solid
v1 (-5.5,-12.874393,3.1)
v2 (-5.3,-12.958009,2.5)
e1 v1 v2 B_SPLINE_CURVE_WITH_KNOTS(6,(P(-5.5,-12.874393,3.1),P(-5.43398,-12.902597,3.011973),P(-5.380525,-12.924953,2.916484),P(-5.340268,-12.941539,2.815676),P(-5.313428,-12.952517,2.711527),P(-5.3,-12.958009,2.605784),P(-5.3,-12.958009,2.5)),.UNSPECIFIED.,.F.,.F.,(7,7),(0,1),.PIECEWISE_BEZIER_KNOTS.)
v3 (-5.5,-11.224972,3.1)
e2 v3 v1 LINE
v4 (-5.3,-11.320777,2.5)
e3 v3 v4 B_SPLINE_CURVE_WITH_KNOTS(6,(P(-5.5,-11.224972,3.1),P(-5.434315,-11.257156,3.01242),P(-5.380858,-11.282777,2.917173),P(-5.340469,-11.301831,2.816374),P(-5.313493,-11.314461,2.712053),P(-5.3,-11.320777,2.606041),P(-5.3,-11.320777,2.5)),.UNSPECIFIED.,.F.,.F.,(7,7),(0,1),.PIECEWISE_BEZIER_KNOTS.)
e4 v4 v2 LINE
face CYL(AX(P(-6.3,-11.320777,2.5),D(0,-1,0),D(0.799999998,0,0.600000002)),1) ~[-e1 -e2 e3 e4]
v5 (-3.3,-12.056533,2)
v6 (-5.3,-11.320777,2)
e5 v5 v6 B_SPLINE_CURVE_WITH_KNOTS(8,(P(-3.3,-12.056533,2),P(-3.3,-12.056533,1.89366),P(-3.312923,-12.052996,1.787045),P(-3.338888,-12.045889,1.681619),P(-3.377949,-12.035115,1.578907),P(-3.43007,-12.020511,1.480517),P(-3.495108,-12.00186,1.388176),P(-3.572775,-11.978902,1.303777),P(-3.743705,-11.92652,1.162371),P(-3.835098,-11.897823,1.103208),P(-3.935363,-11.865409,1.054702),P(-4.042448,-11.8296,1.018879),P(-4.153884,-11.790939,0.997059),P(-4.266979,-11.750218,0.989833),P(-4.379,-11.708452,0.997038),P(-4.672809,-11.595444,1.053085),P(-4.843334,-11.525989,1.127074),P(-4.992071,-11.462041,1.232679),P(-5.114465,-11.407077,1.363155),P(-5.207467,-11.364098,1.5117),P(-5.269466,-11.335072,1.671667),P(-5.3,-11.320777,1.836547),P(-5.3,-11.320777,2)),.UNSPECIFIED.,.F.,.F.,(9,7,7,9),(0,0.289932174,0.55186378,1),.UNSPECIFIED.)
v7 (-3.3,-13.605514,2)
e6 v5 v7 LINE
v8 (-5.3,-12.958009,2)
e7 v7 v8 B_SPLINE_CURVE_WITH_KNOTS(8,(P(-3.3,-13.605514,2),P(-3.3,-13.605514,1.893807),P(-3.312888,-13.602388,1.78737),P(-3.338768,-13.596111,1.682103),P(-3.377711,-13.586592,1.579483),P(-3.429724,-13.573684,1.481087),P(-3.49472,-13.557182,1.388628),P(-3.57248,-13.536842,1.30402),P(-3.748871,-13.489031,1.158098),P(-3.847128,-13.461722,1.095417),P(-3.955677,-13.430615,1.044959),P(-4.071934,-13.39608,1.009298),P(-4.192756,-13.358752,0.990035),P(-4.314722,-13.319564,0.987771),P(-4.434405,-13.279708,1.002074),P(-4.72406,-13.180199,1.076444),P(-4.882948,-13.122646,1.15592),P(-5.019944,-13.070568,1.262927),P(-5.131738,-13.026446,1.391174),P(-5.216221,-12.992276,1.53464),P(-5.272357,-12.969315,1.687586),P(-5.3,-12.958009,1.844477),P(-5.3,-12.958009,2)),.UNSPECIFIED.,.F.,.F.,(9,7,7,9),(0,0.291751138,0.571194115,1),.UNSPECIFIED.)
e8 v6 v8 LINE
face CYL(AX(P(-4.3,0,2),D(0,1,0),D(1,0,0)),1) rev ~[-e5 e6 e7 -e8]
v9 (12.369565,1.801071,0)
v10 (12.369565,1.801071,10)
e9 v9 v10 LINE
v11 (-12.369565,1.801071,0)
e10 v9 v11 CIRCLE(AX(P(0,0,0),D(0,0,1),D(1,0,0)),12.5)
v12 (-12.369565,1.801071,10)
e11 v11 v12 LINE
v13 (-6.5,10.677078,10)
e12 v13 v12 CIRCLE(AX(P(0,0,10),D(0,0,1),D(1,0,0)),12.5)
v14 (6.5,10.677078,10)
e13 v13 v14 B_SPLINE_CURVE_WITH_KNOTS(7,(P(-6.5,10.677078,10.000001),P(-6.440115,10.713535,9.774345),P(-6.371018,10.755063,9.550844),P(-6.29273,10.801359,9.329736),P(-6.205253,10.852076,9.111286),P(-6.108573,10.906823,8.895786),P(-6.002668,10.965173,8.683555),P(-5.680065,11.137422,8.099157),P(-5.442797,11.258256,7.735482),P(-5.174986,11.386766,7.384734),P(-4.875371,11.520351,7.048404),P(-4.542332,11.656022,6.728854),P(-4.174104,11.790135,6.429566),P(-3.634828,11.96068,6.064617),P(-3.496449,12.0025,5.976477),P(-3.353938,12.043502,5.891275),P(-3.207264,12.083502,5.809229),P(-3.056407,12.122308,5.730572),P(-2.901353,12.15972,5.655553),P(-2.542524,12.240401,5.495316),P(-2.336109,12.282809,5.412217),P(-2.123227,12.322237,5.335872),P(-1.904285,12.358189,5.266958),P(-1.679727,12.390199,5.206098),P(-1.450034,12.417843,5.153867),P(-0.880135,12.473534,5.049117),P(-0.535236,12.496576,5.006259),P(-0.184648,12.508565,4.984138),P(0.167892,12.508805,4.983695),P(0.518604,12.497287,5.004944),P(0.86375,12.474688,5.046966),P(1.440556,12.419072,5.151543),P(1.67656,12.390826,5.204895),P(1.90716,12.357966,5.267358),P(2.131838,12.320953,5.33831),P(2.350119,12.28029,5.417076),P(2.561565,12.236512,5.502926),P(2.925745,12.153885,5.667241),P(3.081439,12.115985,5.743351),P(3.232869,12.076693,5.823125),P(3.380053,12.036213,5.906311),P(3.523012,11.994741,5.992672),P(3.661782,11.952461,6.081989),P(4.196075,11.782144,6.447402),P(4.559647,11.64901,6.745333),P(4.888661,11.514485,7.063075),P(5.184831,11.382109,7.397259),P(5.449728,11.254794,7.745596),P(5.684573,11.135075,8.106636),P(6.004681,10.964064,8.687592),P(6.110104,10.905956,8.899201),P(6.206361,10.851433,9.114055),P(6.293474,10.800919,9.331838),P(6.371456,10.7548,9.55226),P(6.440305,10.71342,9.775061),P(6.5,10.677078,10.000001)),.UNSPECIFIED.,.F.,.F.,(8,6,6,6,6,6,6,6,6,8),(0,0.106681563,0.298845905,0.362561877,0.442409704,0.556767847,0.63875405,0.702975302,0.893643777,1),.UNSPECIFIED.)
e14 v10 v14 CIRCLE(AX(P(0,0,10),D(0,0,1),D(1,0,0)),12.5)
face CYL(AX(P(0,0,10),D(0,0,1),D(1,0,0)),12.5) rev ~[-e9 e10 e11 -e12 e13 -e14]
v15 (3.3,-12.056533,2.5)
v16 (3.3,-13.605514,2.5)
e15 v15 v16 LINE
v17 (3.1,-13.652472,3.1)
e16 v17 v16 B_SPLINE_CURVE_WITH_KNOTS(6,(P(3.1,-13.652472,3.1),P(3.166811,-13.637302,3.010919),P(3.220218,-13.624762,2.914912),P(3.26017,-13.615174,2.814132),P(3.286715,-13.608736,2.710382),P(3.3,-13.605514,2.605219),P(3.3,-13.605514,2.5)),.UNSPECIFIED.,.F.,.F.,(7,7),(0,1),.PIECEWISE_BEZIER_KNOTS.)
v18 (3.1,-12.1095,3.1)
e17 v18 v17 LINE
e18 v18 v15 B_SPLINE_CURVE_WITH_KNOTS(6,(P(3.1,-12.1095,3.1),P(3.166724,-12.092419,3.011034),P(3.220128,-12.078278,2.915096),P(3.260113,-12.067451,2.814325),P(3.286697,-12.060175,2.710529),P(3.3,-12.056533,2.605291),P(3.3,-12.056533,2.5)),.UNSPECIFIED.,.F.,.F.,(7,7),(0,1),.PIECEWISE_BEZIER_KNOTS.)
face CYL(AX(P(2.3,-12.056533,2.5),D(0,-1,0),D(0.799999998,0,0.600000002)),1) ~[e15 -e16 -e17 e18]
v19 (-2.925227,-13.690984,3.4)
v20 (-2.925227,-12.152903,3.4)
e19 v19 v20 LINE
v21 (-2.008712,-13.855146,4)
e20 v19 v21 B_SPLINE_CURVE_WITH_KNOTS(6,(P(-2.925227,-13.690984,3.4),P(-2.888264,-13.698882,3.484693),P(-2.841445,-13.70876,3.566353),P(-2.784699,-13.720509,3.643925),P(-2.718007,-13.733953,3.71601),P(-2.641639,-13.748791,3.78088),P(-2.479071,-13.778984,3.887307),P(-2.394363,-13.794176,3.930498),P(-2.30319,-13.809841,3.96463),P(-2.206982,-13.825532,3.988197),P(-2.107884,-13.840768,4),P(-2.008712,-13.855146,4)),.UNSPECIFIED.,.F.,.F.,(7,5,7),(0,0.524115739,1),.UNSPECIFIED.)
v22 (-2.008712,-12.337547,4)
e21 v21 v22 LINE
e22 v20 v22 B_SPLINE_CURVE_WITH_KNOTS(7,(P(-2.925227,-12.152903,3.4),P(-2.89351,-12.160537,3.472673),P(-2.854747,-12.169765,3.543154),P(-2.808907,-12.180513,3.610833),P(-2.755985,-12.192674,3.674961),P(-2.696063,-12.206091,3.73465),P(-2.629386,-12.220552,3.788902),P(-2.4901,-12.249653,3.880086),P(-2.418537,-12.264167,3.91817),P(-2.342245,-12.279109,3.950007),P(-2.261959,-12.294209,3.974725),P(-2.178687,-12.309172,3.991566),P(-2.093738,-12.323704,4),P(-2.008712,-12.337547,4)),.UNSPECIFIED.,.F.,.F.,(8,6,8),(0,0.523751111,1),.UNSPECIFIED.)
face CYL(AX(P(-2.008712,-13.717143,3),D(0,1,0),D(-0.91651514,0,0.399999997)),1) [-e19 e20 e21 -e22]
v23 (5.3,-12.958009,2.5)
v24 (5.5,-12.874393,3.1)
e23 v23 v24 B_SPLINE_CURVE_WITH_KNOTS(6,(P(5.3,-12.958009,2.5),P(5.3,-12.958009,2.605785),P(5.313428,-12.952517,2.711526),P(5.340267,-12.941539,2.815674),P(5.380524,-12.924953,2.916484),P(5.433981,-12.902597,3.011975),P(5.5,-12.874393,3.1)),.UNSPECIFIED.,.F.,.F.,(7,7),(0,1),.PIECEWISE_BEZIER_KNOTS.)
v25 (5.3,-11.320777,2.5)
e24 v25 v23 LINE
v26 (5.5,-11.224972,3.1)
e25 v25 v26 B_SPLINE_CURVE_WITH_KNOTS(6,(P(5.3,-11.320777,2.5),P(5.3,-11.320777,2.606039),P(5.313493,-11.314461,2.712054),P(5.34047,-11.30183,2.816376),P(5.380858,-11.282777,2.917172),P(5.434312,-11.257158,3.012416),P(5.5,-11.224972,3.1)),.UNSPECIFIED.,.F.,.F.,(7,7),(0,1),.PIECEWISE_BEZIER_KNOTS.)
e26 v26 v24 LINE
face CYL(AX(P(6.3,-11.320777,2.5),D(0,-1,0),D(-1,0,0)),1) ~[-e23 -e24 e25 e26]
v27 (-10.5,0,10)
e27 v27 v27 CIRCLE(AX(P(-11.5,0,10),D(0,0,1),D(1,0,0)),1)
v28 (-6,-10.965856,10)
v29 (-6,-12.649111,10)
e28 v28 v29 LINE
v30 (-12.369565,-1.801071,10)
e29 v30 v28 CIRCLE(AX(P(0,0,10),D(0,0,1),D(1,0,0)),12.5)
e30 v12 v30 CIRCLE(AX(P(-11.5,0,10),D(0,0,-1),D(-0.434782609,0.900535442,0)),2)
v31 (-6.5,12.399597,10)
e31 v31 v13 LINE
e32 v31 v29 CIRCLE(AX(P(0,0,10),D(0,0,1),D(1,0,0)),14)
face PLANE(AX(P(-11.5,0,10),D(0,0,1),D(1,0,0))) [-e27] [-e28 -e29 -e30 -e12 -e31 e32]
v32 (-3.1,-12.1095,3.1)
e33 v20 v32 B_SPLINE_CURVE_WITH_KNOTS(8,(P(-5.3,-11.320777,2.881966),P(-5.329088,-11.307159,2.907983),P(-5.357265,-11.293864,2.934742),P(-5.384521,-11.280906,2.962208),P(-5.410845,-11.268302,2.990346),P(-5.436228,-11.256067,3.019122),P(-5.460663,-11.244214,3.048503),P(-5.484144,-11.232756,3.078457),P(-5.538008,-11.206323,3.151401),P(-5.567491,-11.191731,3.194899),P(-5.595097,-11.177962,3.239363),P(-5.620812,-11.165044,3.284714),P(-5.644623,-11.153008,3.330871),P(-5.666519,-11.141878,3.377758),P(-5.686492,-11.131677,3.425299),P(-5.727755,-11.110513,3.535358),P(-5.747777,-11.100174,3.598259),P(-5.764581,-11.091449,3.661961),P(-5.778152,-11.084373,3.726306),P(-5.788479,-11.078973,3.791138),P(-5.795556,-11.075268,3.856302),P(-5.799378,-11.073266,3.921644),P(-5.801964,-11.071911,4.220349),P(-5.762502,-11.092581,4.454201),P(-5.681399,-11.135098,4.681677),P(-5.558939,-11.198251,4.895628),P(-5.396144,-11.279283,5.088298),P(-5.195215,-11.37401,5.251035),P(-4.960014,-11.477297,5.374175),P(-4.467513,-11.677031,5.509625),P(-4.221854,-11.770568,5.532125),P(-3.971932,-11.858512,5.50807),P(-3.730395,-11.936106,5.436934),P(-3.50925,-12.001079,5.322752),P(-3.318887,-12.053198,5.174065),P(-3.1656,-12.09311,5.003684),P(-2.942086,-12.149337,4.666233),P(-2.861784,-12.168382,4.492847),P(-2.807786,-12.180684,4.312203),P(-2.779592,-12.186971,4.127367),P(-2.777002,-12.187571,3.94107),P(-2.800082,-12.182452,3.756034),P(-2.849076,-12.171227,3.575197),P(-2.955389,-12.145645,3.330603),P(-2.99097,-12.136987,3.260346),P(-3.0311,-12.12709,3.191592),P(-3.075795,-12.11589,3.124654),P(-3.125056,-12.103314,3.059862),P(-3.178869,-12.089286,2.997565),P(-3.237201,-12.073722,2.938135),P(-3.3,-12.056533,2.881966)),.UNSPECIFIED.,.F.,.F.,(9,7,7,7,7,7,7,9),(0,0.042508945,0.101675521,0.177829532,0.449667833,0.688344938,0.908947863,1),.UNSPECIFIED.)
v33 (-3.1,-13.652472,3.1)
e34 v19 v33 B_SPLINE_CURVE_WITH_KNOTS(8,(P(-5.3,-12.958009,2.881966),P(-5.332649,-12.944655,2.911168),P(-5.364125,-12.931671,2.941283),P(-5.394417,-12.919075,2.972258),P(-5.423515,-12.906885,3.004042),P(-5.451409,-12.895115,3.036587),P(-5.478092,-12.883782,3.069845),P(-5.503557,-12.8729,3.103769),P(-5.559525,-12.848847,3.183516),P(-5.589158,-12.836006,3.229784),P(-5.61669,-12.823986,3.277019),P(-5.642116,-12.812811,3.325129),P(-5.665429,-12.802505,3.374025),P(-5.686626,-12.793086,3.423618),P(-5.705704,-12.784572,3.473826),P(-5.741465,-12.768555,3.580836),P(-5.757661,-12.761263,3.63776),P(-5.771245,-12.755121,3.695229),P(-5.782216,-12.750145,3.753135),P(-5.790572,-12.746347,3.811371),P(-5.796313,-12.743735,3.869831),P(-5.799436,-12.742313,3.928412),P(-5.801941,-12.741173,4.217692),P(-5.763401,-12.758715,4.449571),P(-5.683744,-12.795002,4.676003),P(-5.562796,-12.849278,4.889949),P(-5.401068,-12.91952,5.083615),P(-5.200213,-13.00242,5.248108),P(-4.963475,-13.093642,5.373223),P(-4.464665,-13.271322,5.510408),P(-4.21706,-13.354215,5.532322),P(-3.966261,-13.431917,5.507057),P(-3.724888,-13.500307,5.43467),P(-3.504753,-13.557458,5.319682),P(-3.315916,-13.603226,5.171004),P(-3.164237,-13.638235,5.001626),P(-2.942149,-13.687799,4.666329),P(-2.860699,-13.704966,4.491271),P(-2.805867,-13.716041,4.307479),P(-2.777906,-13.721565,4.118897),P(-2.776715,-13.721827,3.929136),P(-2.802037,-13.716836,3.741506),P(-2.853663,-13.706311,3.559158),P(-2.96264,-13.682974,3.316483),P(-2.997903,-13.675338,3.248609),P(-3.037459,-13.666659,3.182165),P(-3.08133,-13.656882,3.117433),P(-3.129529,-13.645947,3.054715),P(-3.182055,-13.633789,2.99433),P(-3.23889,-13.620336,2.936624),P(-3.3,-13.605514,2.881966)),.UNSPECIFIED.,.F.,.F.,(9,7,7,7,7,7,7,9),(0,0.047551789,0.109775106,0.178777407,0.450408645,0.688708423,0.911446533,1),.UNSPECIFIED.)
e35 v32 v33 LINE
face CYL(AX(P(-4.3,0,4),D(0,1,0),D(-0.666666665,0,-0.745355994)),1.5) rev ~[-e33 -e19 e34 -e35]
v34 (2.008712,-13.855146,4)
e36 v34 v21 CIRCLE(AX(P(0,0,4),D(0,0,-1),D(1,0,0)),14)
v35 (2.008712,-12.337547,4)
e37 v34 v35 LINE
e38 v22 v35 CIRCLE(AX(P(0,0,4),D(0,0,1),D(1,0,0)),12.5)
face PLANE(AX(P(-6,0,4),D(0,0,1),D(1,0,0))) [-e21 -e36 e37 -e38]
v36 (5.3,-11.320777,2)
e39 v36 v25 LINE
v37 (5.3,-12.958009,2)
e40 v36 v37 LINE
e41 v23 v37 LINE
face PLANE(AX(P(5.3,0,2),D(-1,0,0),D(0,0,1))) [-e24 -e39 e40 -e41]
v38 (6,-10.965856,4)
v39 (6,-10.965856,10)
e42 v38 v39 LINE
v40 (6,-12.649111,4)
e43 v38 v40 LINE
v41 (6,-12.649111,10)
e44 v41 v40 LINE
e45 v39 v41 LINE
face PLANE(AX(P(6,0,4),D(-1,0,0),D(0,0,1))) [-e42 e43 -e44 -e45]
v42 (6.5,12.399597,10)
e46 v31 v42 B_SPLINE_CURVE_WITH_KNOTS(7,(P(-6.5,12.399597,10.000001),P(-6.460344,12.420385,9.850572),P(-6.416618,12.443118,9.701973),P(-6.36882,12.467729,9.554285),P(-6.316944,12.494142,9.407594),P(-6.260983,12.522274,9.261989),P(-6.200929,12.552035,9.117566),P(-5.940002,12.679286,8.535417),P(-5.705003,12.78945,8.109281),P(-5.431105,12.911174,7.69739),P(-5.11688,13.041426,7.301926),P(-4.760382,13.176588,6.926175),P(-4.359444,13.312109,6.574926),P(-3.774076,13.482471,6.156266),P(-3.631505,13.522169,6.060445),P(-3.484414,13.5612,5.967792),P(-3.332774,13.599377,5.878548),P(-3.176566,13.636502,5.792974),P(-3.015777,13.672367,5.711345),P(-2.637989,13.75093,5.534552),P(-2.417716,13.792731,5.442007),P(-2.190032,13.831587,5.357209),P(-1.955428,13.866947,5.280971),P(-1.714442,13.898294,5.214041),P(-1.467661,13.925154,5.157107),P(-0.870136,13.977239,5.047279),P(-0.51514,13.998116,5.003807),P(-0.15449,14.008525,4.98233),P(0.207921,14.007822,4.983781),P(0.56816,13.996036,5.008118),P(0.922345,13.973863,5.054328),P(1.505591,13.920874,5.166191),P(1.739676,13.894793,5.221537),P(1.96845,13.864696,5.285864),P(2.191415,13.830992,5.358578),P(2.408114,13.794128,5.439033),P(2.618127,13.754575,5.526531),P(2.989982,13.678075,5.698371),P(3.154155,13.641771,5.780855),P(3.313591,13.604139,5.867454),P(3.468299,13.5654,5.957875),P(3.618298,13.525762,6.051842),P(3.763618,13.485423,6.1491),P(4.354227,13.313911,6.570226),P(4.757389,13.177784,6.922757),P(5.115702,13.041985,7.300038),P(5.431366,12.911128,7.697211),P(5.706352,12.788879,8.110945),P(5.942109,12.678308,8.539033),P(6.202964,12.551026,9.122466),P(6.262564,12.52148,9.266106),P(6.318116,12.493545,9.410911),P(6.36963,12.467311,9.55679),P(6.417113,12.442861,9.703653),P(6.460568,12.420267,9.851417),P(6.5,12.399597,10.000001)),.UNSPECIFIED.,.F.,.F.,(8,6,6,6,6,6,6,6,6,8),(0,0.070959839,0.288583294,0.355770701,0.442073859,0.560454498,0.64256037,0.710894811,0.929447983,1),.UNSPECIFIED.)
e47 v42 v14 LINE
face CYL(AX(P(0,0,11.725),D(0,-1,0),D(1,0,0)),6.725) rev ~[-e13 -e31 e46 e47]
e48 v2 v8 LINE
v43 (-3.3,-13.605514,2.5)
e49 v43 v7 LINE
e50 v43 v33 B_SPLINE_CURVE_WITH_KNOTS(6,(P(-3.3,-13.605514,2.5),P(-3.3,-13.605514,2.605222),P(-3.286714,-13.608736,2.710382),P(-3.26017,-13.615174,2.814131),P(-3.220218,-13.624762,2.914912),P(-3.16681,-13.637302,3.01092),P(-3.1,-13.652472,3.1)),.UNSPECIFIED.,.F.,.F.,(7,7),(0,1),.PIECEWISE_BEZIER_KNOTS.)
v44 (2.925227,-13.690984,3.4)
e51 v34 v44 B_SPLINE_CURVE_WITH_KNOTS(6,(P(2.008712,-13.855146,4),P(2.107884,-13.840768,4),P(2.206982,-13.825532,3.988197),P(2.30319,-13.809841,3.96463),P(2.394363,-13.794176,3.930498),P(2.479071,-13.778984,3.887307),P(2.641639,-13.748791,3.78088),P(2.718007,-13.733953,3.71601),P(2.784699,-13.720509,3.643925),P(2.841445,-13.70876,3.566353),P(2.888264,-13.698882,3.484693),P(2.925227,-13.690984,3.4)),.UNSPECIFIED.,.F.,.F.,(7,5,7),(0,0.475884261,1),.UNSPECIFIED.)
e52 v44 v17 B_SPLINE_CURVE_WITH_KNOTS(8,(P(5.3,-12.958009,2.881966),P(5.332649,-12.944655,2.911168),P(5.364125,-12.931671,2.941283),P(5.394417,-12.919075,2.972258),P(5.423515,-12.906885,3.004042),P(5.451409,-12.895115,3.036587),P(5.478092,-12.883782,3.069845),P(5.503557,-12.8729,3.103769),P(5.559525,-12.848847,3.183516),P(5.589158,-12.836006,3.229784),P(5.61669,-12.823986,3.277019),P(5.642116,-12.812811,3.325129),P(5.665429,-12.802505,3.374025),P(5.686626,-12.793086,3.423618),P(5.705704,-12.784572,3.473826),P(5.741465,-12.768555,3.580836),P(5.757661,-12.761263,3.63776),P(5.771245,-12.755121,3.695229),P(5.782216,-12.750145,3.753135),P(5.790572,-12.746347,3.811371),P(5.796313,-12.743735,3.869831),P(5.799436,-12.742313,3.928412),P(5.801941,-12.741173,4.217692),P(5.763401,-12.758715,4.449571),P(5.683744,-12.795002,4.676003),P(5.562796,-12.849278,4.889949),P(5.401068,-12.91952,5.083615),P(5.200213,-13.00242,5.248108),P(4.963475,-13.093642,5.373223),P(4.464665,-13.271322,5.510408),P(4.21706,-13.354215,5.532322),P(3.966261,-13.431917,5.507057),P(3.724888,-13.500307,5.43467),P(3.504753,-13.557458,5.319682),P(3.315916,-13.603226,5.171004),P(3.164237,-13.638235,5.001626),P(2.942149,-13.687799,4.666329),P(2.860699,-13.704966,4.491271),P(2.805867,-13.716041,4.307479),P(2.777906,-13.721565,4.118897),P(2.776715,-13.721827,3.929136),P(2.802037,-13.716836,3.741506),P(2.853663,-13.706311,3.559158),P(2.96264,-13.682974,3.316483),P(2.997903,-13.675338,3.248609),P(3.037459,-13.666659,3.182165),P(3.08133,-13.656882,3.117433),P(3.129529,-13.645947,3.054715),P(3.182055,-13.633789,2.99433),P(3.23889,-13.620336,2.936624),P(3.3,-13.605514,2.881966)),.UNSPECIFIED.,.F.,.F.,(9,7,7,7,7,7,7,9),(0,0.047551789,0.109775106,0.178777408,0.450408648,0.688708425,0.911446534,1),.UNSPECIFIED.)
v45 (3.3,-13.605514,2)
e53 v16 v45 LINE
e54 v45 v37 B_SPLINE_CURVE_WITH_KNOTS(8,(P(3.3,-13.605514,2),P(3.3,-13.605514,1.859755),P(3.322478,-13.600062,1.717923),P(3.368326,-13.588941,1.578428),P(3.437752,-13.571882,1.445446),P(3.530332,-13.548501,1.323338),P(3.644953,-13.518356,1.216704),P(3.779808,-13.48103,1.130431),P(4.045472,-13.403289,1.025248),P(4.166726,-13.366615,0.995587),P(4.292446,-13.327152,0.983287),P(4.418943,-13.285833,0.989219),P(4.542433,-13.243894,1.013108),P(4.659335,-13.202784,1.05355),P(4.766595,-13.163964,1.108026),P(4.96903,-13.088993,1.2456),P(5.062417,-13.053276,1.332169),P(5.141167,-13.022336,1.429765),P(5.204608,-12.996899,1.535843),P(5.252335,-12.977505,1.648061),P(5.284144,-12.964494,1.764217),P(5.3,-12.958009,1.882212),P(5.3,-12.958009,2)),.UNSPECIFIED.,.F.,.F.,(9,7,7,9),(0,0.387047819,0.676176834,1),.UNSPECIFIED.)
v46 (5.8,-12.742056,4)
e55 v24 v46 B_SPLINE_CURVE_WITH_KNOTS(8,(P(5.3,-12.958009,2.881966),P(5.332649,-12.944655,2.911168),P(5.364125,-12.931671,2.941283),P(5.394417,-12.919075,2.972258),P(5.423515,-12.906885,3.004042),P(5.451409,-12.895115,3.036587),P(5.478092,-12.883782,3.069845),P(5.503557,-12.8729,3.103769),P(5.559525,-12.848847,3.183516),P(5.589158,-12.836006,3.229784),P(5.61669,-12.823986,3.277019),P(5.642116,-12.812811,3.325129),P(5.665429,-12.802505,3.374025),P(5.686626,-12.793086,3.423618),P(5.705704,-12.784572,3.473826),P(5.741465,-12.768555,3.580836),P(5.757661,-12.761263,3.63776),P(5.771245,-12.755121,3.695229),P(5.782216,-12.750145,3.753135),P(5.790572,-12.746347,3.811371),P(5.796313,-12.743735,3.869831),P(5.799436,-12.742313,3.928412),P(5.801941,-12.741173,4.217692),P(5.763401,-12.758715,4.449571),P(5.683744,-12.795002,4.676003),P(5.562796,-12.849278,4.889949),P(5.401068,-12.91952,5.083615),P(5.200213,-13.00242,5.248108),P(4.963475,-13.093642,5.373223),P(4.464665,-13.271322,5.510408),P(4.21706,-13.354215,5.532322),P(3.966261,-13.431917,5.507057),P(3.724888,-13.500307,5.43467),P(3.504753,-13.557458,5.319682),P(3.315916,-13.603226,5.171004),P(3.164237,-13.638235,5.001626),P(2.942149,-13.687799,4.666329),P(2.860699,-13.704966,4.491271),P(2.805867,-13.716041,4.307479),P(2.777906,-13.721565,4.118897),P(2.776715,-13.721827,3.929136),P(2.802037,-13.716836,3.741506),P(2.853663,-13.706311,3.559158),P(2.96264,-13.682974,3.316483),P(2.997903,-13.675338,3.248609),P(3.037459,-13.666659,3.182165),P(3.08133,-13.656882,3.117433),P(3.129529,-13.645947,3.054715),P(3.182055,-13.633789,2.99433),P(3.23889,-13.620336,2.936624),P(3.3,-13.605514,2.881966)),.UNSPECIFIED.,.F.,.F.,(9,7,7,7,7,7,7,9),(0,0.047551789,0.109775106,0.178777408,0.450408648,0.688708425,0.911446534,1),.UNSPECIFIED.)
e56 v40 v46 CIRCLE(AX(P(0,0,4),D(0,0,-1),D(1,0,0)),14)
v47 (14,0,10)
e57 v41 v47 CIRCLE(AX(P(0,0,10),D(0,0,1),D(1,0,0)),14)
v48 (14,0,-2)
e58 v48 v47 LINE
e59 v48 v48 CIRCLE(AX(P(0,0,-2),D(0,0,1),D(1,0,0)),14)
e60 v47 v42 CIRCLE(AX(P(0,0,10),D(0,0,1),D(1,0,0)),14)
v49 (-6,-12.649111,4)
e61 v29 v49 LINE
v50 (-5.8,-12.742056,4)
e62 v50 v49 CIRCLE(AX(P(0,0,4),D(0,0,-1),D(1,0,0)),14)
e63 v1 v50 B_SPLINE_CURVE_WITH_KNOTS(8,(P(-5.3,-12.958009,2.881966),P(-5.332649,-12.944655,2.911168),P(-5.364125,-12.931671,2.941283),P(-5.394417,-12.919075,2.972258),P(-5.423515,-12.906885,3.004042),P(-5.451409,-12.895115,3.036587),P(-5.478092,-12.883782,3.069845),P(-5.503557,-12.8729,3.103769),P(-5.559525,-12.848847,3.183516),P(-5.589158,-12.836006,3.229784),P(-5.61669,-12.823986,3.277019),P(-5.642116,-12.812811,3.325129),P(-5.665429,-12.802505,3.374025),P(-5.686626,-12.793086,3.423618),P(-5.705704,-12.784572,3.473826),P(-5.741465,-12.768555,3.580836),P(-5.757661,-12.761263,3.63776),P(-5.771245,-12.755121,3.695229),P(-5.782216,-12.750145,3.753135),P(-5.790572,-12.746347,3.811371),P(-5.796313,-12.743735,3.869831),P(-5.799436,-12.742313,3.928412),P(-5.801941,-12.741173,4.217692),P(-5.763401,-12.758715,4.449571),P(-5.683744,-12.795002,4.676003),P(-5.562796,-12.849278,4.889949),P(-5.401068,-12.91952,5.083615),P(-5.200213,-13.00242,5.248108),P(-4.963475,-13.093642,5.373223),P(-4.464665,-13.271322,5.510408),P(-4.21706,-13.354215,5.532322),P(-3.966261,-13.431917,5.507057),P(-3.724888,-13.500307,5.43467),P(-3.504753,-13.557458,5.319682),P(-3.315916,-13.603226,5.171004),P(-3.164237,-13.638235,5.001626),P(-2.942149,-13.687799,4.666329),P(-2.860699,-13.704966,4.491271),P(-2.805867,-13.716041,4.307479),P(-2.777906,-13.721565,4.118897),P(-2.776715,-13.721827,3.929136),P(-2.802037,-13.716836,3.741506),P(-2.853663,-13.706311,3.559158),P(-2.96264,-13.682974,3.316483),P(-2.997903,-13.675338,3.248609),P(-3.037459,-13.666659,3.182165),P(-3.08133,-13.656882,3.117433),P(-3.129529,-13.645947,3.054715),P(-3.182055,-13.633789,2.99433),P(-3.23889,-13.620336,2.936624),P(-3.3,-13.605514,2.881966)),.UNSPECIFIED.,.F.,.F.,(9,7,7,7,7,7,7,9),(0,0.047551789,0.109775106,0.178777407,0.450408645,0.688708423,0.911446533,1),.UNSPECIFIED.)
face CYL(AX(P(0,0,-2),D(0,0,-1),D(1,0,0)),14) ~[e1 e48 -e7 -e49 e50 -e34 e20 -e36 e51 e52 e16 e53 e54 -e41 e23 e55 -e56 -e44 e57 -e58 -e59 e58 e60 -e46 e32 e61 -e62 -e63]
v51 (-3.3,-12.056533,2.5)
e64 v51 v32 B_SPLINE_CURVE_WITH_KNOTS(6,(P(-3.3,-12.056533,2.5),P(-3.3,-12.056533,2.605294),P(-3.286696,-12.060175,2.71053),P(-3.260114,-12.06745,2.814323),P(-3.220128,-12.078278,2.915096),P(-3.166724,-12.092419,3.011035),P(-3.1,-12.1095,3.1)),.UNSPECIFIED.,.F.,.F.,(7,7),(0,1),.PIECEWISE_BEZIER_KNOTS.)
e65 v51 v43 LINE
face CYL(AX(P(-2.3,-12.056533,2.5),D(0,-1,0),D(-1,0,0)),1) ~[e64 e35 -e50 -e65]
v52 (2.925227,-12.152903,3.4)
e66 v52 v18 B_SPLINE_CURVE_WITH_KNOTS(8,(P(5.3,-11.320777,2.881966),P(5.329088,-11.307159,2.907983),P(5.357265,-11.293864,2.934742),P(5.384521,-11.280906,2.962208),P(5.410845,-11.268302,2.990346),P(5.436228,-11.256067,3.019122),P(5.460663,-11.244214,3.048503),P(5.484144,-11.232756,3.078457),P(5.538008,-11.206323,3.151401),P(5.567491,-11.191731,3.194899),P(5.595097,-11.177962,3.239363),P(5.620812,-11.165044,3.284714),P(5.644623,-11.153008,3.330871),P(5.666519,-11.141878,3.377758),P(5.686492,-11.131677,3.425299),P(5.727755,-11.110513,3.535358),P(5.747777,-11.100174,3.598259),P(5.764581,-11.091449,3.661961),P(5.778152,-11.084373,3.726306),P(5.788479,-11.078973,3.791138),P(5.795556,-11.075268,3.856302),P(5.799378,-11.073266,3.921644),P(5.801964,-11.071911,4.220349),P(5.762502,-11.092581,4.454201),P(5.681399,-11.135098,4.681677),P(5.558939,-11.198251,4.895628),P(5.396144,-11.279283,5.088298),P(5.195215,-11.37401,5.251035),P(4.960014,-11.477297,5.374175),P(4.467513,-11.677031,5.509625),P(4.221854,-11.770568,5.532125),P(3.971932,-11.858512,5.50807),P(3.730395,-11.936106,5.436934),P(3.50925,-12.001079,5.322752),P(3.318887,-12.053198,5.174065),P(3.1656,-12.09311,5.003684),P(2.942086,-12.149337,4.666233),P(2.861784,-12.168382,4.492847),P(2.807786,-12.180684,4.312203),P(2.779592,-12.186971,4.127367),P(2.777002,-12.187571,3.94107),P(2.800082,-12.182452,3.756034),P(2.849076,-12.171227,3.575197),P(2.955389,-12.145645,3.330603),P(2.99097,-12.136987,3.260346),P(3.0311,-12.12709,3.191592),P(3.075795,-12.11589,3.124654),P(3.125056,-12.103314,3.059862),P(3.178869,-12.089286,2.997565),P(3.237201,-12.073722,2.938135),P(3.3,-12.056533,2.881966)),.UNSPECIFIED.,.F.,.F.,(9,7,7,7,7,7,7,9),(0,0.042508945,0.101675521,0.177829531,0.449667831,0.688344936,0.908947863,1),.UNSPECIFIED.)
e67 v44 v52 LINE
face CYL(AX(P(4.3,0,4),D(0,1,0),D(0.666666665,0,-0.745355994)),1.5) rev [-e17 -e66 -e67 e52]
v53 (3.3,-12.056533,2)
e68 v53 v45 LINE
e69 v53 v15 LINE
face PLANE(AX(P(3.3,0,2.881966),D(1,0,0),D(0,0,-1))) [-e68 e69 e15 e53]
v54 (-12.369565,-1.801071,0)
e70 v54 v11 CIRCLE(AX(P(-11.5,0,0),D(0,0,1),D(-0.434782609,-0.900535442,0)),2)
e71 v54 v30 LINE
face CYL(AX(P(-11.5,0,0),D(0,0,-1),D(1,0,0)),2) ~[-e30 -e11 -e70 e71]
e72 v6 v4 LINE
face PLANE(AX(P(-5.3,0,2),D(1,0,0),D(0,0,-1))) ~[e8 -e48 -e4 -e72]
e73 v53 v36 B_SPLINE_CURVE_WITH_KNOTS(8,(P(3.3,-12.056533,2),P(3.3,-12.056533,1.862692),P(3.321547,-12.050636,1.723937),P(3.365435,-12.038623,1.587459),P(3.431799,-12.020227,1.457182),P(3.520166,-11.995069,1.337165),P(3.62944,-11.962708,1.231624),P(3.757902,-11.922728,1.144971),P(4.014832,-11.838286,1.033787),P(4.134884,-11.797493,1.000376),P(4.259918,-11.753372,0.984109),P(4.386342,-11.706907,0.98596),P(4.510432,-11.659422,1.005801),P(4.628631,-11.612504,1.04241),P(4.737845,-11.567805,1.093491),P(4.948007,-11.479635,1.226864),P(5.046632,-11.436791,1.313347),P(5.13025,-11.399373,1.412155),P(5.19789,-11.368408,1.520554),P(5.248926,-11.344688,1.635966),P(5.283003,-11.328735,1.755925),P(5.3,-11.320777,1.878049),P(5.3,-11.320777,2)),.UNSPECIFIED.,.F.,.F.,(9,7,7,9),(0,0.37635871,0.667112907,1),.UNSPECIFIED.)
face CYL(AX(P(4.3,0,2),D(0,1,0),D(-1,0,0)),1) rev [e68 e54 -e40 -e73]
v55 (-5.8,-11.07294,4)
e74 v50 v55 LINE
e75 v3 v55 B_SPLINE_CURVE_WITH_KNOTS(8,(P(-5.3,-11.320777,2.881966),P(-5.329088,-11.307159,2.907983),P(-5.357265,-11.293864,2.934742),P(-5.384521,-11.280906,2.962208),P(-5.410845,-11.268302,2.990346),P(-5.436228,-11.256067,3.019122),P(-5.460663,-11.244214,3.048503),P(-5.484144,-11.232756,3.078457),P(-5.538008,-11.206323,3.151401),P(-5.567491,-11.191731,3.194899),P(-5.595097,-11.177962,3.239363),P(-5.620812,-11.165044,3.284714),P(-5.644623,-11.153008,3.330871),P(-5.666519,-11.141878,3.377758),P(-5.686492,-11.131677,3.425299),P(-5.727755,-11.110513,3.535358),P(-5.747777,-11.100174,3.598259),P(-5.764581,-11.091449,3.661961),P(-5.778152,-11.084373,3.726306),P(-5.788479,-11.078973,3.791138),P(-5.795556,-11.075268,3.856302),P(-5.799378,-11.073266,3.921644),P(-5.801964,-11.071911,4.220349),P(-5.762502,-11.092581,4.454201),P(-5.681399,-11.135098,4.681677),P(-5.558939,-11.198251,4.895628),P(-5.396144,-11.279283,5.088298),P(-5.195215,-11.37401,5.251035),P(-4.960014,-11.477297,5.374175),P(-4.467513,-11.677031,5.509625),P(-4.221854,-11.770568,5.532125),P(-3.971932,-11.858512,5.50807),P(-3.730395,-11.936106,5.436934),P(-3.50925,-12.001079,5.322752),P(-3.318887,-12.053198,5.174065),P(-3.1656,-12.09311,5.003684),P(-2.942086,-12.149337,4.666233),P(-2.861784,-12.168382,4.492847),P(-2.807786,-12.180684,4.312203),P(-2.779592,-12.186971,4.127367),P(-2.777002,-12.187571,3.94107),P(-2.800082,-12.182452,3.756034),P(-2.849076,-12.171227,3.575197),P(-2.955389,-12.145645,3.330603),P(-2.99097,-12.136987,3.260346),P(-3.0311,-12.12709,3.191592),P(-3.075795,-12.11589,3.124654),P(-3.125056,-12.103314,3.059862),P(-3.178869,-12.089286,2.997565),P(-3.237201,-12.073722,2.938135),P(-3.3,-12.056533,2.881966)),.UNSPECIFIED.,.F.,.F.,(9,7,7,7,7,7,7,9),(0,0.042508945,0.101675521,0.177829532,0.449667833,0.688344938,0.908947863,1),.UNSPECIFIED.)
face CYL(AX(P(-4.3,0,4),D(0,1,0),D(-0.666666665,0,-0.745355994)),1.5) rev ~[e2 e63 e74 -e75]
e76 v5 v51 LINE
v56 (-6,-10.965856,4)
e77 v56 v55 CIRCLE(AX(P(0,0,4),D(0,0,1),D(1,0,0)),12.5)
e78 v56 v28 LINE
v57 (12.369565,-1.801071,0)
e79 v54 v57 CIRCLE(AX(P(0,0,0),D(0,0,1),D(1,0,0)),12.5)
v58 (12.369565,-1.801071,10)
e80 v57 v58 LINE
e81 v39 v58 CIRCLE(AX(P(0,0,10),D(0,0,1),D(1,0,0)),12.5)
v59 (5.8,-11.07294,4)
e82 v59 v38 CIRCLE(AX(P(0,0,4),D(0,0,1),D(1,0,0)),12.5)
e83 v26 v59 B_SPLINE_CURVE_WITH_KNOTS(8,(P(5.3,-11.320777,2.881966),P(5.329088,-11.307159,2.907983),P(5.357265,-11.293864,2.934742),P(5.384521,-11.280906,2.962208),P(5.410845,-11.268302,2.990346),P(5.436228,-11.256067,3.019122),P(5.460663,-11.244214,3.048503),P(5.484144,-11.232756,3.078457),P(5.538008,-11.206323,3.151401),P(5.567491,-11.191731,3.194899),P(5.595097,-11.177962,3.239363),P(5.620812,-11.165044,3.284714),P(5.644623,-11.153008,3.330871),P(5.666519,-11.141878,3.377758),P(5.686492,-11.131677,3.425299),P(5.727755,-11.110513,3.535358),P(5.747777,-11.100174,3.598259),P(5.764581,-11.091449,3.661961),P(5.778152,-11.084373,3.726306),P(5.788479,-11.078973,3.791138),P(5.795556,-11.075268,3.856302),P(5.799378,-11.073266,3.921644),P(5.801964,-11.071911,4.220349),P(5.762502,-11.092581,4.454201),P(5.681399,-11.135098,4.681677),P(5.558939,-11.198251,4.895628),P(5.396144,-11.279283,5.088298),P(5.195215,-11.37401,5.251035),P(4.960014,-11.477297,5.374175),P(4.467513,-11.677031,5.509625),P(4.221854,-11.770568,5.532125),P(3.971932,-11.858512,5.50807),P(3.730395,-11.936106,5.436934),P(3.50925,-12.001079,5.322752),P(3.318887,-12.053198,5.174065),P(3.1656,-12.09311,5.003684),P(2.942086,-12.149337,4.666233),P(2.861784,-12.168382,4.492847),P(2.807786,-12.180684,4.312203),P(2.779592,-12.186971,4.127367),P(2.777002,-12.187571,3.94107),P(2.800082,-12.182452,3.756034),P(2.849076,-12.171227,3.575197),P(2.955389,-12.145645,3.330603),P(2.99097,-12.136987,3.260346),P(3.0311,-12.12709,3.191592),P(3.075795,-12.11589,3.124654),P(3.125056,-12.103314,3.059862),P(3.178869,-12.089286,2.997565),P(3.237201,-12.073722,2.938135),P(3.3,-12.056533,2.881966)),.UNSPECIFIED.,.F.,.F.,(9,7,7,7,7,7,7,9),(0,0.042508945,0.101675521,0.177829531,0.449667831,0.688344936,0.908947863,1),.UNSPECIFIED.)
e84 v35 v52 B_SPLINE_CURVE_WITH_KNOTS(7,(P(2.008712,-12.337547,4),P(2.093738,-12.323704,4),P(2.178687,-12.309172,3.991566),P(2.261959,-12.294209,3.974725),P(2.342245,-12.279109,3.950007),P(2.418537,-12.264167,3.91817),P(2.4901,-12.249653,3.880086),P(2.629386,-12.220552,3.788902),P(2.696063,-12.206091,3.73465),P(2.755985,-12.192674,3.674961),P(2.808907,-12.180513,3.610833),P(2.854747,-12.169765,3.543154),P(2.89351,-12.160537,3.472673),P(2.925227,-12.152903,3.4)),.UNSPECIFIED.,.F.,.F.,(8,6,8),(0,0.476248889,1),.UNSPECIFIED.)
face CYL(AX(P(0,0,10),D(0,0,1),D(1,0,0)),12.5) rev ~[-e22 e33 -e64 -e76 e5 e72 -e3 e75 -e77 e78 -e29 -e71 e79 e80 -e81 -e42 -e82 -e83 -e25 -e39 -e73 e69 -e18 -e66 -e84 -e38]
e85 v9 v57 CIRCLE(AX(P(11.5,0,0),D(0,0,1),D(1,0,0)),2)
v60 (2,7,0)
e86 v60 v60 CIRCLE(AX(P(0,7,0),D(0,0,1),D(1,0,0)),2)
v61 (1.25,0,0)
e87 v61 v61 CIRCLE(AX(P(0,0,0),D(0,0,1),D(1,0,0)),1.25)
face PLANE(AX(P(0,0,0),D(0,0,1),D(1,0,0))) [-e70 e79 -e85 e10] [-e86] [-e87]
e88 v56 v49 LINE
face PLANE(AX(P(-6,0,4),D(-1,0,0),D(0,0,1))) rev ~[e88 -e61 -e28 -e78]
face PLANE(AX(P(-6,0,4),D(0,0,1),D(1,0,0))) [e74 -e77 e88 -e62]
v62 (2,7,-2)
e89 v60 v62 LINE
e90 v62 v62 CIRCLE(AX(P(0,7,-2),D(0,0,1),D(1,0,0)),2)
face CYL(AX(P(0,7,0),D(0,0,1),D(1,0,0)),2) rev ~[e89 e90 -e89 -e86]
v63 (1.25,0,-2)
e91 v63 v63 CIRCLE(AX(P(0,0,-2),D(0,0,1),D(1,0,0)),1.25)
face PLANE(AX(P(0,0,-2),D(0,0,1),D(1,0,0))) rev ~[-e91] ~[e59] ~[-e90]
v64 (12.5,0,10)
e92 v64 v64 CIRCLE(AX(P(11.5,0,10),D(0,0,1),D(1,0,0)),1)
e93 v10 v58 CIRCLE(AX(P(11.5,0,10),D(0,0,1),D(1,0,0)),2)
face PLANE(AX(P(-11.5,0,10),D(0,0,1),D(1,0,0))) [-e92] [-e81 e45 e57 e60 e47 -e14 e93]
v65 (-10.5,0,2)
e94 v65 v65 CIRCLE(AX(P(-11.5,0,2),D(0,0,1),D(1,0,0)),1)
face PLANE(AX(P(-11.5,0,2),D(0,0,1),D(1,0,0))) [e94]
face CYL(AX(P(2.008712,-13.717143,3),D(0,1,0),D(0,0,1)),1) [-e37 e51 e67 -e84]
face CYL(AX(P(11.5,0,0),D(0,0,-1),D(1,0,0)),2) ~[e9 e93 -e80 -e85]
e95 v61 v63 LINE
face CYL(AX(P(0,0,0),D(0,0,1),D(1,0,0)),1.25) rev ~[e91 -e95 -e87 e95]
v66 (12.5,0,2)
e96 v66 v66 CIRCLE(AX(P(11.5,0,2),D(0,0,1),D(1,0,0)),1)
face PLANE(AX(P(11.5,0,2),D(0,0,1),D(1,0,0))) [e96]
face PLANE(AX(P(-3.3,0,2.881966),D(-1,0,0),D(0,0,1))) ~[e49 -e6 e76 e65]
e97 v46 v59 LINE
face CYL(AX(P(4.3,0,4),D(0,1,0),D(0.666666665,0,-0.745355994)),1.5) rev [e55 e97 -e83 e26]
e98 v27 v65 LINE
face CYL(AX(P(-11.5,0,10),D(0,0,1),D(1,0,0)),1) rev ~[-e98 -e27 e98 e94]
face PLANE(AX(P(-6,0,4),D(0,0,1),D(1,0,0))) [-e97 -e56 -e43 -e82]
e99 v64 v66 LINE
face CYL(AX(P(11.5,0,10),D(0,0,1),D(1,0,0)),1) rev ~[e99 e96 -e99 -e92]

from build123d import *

# Parameters (mm, degrees)
SKETCH_R        = 14
PAD_DEPTH       = 12
SKETCH001_R     = 12.5
POCKET_DEPTH    = 10
SKETCH002_R     = 1.25
SKETCH002_R_2   = 2
POCKET001_DEPTH = 5
SKETCH003_R     = 2
PAD001_DEPTH    = 10
SKETCH004_R     = 1
POCKET002_DEPTH = 8
SKETCH005_R     = 6.725
POCKET003_DEPTH = 20
SKETCH006_W     = 12
SKETCH006_H     = 6
POCKET004_DEPTH = 20
POCKET005_DEPTH = 20
FILLET_R        = 1


with BuildPart() as part:
    # Sketch → Pad (new body)
    with BuildSketch(Plane.XY.offset(4)):
        Circle(SKETCH_R)
    extrude(amount=PAD_DEPTH)

    # Sketch001 (on Face3 of Pad) → Pocket (cut)
    with BuildSketch(Plane.XY.offset(16)):
        Circle(SKETCH001_R)
    extrude(amount=-POCKET_DEPTH, mode=Mode.SUBTRACT)

    # Sketch002 (on Face5 of Pocket) → Pocket001 (cut)
    with BuildSketch(Plane.XY.offset(6)):
        Circle(SKETCH002_R)
        with Locations((0, 7)):
            Circle(SKETCH002_R_2)
    extrude(amount=-POCKET001_DEPTH, mode=Mode.SUBTRACT)

    # Sketch003 (on Face7 of Pocket001) → Pad001 (join)
    with BuildSketch(Plane.XY.offset(6)):
        with Locations((-11.5, 0)):
            Circle(SKETCH003_R)
        with Locations((11.5, 0)):
            Circle(SKETCH003_R)
    extrude(amount=PAD001_DEPTH)

    # Sketch004 (on Face3 of Pad001) → Pocket002 (cut)
    with BuildSketch(Plane.XY.offset(16)):
        with Locations((-11.5, 0)):
            Circle(SKETCH004_R)
        with Locations((11.5, 0)):
            Circle(SKETCH004_R)
    extrude(amount=-POCKET002_DEPTH, mode=Mode.SUBTRACT)

    # Sketch005 → Pocket003 (cut)
    with BuildSketch(Plane.XZ):
        with Locations((0, 17.725)):
            Circle(SKETCH005_R)
    extrude(amount=-POCKET003_DEPTH, mode=Mode.SUBTRACT)

    # Sketch006 → Pocket004 (cut)
    with BuildSketch(Plane.XZ):
        with Locations((0, 13)):
            Rectangle(SKETCH006_W, SKETCH006_H)
    extrude(amount=POCKET004_DEPTH, mode=Mode.SUBTRACT)

    # Sketch007 → Pocket005 (cut)
    with BuildSketch(Plane.XZ):
        with BuildLine():
            ThreePointArc((5.3, 8.881966), (4.3, 11.5), (3.3, 8.881966))
            Line((3.3, 8.881966), (3.3, 8))
            ThreePointArc((3.3, 8), (4.3, 7), (5.3, 8))
            Line((5.3, 8), (5.3, 8.881966))
        make_face()
    pocket005 = extrude(amount=POCKET005_DEPTH, mode=Mode.SUBTRACT)

    # Mirrored: Pocket005 across Sketch007 V_Axis
    add(pocket005.mirror(Plane(origin=(0, 0, 0), x_dir=(0, -1, 0), z_dir=(1, 0, 0))), mode=Mode.SUBTRACT)

    # Fillet
    fillet_edges = [part.edges().sort_by_distance(p)[0] for p in [
        (3.3, -12.831024, 8.881966),
        (5.3, -12.139393, 8.881966),
        (-3.3, -12.831024, 8.881966),
        (-5.3, -12.139393, 8.881966),
        (-2.8, -12.949753, 10),
        (2.8, -12.949753, 10),
    ]]
    fillet(fillet_edges, radius=FILLET_R)


with BuildPart() as part_1:
    # Body placement: moved
    add(part.part.moved(Location((0, 0, -6))))


solid = part_1.part
